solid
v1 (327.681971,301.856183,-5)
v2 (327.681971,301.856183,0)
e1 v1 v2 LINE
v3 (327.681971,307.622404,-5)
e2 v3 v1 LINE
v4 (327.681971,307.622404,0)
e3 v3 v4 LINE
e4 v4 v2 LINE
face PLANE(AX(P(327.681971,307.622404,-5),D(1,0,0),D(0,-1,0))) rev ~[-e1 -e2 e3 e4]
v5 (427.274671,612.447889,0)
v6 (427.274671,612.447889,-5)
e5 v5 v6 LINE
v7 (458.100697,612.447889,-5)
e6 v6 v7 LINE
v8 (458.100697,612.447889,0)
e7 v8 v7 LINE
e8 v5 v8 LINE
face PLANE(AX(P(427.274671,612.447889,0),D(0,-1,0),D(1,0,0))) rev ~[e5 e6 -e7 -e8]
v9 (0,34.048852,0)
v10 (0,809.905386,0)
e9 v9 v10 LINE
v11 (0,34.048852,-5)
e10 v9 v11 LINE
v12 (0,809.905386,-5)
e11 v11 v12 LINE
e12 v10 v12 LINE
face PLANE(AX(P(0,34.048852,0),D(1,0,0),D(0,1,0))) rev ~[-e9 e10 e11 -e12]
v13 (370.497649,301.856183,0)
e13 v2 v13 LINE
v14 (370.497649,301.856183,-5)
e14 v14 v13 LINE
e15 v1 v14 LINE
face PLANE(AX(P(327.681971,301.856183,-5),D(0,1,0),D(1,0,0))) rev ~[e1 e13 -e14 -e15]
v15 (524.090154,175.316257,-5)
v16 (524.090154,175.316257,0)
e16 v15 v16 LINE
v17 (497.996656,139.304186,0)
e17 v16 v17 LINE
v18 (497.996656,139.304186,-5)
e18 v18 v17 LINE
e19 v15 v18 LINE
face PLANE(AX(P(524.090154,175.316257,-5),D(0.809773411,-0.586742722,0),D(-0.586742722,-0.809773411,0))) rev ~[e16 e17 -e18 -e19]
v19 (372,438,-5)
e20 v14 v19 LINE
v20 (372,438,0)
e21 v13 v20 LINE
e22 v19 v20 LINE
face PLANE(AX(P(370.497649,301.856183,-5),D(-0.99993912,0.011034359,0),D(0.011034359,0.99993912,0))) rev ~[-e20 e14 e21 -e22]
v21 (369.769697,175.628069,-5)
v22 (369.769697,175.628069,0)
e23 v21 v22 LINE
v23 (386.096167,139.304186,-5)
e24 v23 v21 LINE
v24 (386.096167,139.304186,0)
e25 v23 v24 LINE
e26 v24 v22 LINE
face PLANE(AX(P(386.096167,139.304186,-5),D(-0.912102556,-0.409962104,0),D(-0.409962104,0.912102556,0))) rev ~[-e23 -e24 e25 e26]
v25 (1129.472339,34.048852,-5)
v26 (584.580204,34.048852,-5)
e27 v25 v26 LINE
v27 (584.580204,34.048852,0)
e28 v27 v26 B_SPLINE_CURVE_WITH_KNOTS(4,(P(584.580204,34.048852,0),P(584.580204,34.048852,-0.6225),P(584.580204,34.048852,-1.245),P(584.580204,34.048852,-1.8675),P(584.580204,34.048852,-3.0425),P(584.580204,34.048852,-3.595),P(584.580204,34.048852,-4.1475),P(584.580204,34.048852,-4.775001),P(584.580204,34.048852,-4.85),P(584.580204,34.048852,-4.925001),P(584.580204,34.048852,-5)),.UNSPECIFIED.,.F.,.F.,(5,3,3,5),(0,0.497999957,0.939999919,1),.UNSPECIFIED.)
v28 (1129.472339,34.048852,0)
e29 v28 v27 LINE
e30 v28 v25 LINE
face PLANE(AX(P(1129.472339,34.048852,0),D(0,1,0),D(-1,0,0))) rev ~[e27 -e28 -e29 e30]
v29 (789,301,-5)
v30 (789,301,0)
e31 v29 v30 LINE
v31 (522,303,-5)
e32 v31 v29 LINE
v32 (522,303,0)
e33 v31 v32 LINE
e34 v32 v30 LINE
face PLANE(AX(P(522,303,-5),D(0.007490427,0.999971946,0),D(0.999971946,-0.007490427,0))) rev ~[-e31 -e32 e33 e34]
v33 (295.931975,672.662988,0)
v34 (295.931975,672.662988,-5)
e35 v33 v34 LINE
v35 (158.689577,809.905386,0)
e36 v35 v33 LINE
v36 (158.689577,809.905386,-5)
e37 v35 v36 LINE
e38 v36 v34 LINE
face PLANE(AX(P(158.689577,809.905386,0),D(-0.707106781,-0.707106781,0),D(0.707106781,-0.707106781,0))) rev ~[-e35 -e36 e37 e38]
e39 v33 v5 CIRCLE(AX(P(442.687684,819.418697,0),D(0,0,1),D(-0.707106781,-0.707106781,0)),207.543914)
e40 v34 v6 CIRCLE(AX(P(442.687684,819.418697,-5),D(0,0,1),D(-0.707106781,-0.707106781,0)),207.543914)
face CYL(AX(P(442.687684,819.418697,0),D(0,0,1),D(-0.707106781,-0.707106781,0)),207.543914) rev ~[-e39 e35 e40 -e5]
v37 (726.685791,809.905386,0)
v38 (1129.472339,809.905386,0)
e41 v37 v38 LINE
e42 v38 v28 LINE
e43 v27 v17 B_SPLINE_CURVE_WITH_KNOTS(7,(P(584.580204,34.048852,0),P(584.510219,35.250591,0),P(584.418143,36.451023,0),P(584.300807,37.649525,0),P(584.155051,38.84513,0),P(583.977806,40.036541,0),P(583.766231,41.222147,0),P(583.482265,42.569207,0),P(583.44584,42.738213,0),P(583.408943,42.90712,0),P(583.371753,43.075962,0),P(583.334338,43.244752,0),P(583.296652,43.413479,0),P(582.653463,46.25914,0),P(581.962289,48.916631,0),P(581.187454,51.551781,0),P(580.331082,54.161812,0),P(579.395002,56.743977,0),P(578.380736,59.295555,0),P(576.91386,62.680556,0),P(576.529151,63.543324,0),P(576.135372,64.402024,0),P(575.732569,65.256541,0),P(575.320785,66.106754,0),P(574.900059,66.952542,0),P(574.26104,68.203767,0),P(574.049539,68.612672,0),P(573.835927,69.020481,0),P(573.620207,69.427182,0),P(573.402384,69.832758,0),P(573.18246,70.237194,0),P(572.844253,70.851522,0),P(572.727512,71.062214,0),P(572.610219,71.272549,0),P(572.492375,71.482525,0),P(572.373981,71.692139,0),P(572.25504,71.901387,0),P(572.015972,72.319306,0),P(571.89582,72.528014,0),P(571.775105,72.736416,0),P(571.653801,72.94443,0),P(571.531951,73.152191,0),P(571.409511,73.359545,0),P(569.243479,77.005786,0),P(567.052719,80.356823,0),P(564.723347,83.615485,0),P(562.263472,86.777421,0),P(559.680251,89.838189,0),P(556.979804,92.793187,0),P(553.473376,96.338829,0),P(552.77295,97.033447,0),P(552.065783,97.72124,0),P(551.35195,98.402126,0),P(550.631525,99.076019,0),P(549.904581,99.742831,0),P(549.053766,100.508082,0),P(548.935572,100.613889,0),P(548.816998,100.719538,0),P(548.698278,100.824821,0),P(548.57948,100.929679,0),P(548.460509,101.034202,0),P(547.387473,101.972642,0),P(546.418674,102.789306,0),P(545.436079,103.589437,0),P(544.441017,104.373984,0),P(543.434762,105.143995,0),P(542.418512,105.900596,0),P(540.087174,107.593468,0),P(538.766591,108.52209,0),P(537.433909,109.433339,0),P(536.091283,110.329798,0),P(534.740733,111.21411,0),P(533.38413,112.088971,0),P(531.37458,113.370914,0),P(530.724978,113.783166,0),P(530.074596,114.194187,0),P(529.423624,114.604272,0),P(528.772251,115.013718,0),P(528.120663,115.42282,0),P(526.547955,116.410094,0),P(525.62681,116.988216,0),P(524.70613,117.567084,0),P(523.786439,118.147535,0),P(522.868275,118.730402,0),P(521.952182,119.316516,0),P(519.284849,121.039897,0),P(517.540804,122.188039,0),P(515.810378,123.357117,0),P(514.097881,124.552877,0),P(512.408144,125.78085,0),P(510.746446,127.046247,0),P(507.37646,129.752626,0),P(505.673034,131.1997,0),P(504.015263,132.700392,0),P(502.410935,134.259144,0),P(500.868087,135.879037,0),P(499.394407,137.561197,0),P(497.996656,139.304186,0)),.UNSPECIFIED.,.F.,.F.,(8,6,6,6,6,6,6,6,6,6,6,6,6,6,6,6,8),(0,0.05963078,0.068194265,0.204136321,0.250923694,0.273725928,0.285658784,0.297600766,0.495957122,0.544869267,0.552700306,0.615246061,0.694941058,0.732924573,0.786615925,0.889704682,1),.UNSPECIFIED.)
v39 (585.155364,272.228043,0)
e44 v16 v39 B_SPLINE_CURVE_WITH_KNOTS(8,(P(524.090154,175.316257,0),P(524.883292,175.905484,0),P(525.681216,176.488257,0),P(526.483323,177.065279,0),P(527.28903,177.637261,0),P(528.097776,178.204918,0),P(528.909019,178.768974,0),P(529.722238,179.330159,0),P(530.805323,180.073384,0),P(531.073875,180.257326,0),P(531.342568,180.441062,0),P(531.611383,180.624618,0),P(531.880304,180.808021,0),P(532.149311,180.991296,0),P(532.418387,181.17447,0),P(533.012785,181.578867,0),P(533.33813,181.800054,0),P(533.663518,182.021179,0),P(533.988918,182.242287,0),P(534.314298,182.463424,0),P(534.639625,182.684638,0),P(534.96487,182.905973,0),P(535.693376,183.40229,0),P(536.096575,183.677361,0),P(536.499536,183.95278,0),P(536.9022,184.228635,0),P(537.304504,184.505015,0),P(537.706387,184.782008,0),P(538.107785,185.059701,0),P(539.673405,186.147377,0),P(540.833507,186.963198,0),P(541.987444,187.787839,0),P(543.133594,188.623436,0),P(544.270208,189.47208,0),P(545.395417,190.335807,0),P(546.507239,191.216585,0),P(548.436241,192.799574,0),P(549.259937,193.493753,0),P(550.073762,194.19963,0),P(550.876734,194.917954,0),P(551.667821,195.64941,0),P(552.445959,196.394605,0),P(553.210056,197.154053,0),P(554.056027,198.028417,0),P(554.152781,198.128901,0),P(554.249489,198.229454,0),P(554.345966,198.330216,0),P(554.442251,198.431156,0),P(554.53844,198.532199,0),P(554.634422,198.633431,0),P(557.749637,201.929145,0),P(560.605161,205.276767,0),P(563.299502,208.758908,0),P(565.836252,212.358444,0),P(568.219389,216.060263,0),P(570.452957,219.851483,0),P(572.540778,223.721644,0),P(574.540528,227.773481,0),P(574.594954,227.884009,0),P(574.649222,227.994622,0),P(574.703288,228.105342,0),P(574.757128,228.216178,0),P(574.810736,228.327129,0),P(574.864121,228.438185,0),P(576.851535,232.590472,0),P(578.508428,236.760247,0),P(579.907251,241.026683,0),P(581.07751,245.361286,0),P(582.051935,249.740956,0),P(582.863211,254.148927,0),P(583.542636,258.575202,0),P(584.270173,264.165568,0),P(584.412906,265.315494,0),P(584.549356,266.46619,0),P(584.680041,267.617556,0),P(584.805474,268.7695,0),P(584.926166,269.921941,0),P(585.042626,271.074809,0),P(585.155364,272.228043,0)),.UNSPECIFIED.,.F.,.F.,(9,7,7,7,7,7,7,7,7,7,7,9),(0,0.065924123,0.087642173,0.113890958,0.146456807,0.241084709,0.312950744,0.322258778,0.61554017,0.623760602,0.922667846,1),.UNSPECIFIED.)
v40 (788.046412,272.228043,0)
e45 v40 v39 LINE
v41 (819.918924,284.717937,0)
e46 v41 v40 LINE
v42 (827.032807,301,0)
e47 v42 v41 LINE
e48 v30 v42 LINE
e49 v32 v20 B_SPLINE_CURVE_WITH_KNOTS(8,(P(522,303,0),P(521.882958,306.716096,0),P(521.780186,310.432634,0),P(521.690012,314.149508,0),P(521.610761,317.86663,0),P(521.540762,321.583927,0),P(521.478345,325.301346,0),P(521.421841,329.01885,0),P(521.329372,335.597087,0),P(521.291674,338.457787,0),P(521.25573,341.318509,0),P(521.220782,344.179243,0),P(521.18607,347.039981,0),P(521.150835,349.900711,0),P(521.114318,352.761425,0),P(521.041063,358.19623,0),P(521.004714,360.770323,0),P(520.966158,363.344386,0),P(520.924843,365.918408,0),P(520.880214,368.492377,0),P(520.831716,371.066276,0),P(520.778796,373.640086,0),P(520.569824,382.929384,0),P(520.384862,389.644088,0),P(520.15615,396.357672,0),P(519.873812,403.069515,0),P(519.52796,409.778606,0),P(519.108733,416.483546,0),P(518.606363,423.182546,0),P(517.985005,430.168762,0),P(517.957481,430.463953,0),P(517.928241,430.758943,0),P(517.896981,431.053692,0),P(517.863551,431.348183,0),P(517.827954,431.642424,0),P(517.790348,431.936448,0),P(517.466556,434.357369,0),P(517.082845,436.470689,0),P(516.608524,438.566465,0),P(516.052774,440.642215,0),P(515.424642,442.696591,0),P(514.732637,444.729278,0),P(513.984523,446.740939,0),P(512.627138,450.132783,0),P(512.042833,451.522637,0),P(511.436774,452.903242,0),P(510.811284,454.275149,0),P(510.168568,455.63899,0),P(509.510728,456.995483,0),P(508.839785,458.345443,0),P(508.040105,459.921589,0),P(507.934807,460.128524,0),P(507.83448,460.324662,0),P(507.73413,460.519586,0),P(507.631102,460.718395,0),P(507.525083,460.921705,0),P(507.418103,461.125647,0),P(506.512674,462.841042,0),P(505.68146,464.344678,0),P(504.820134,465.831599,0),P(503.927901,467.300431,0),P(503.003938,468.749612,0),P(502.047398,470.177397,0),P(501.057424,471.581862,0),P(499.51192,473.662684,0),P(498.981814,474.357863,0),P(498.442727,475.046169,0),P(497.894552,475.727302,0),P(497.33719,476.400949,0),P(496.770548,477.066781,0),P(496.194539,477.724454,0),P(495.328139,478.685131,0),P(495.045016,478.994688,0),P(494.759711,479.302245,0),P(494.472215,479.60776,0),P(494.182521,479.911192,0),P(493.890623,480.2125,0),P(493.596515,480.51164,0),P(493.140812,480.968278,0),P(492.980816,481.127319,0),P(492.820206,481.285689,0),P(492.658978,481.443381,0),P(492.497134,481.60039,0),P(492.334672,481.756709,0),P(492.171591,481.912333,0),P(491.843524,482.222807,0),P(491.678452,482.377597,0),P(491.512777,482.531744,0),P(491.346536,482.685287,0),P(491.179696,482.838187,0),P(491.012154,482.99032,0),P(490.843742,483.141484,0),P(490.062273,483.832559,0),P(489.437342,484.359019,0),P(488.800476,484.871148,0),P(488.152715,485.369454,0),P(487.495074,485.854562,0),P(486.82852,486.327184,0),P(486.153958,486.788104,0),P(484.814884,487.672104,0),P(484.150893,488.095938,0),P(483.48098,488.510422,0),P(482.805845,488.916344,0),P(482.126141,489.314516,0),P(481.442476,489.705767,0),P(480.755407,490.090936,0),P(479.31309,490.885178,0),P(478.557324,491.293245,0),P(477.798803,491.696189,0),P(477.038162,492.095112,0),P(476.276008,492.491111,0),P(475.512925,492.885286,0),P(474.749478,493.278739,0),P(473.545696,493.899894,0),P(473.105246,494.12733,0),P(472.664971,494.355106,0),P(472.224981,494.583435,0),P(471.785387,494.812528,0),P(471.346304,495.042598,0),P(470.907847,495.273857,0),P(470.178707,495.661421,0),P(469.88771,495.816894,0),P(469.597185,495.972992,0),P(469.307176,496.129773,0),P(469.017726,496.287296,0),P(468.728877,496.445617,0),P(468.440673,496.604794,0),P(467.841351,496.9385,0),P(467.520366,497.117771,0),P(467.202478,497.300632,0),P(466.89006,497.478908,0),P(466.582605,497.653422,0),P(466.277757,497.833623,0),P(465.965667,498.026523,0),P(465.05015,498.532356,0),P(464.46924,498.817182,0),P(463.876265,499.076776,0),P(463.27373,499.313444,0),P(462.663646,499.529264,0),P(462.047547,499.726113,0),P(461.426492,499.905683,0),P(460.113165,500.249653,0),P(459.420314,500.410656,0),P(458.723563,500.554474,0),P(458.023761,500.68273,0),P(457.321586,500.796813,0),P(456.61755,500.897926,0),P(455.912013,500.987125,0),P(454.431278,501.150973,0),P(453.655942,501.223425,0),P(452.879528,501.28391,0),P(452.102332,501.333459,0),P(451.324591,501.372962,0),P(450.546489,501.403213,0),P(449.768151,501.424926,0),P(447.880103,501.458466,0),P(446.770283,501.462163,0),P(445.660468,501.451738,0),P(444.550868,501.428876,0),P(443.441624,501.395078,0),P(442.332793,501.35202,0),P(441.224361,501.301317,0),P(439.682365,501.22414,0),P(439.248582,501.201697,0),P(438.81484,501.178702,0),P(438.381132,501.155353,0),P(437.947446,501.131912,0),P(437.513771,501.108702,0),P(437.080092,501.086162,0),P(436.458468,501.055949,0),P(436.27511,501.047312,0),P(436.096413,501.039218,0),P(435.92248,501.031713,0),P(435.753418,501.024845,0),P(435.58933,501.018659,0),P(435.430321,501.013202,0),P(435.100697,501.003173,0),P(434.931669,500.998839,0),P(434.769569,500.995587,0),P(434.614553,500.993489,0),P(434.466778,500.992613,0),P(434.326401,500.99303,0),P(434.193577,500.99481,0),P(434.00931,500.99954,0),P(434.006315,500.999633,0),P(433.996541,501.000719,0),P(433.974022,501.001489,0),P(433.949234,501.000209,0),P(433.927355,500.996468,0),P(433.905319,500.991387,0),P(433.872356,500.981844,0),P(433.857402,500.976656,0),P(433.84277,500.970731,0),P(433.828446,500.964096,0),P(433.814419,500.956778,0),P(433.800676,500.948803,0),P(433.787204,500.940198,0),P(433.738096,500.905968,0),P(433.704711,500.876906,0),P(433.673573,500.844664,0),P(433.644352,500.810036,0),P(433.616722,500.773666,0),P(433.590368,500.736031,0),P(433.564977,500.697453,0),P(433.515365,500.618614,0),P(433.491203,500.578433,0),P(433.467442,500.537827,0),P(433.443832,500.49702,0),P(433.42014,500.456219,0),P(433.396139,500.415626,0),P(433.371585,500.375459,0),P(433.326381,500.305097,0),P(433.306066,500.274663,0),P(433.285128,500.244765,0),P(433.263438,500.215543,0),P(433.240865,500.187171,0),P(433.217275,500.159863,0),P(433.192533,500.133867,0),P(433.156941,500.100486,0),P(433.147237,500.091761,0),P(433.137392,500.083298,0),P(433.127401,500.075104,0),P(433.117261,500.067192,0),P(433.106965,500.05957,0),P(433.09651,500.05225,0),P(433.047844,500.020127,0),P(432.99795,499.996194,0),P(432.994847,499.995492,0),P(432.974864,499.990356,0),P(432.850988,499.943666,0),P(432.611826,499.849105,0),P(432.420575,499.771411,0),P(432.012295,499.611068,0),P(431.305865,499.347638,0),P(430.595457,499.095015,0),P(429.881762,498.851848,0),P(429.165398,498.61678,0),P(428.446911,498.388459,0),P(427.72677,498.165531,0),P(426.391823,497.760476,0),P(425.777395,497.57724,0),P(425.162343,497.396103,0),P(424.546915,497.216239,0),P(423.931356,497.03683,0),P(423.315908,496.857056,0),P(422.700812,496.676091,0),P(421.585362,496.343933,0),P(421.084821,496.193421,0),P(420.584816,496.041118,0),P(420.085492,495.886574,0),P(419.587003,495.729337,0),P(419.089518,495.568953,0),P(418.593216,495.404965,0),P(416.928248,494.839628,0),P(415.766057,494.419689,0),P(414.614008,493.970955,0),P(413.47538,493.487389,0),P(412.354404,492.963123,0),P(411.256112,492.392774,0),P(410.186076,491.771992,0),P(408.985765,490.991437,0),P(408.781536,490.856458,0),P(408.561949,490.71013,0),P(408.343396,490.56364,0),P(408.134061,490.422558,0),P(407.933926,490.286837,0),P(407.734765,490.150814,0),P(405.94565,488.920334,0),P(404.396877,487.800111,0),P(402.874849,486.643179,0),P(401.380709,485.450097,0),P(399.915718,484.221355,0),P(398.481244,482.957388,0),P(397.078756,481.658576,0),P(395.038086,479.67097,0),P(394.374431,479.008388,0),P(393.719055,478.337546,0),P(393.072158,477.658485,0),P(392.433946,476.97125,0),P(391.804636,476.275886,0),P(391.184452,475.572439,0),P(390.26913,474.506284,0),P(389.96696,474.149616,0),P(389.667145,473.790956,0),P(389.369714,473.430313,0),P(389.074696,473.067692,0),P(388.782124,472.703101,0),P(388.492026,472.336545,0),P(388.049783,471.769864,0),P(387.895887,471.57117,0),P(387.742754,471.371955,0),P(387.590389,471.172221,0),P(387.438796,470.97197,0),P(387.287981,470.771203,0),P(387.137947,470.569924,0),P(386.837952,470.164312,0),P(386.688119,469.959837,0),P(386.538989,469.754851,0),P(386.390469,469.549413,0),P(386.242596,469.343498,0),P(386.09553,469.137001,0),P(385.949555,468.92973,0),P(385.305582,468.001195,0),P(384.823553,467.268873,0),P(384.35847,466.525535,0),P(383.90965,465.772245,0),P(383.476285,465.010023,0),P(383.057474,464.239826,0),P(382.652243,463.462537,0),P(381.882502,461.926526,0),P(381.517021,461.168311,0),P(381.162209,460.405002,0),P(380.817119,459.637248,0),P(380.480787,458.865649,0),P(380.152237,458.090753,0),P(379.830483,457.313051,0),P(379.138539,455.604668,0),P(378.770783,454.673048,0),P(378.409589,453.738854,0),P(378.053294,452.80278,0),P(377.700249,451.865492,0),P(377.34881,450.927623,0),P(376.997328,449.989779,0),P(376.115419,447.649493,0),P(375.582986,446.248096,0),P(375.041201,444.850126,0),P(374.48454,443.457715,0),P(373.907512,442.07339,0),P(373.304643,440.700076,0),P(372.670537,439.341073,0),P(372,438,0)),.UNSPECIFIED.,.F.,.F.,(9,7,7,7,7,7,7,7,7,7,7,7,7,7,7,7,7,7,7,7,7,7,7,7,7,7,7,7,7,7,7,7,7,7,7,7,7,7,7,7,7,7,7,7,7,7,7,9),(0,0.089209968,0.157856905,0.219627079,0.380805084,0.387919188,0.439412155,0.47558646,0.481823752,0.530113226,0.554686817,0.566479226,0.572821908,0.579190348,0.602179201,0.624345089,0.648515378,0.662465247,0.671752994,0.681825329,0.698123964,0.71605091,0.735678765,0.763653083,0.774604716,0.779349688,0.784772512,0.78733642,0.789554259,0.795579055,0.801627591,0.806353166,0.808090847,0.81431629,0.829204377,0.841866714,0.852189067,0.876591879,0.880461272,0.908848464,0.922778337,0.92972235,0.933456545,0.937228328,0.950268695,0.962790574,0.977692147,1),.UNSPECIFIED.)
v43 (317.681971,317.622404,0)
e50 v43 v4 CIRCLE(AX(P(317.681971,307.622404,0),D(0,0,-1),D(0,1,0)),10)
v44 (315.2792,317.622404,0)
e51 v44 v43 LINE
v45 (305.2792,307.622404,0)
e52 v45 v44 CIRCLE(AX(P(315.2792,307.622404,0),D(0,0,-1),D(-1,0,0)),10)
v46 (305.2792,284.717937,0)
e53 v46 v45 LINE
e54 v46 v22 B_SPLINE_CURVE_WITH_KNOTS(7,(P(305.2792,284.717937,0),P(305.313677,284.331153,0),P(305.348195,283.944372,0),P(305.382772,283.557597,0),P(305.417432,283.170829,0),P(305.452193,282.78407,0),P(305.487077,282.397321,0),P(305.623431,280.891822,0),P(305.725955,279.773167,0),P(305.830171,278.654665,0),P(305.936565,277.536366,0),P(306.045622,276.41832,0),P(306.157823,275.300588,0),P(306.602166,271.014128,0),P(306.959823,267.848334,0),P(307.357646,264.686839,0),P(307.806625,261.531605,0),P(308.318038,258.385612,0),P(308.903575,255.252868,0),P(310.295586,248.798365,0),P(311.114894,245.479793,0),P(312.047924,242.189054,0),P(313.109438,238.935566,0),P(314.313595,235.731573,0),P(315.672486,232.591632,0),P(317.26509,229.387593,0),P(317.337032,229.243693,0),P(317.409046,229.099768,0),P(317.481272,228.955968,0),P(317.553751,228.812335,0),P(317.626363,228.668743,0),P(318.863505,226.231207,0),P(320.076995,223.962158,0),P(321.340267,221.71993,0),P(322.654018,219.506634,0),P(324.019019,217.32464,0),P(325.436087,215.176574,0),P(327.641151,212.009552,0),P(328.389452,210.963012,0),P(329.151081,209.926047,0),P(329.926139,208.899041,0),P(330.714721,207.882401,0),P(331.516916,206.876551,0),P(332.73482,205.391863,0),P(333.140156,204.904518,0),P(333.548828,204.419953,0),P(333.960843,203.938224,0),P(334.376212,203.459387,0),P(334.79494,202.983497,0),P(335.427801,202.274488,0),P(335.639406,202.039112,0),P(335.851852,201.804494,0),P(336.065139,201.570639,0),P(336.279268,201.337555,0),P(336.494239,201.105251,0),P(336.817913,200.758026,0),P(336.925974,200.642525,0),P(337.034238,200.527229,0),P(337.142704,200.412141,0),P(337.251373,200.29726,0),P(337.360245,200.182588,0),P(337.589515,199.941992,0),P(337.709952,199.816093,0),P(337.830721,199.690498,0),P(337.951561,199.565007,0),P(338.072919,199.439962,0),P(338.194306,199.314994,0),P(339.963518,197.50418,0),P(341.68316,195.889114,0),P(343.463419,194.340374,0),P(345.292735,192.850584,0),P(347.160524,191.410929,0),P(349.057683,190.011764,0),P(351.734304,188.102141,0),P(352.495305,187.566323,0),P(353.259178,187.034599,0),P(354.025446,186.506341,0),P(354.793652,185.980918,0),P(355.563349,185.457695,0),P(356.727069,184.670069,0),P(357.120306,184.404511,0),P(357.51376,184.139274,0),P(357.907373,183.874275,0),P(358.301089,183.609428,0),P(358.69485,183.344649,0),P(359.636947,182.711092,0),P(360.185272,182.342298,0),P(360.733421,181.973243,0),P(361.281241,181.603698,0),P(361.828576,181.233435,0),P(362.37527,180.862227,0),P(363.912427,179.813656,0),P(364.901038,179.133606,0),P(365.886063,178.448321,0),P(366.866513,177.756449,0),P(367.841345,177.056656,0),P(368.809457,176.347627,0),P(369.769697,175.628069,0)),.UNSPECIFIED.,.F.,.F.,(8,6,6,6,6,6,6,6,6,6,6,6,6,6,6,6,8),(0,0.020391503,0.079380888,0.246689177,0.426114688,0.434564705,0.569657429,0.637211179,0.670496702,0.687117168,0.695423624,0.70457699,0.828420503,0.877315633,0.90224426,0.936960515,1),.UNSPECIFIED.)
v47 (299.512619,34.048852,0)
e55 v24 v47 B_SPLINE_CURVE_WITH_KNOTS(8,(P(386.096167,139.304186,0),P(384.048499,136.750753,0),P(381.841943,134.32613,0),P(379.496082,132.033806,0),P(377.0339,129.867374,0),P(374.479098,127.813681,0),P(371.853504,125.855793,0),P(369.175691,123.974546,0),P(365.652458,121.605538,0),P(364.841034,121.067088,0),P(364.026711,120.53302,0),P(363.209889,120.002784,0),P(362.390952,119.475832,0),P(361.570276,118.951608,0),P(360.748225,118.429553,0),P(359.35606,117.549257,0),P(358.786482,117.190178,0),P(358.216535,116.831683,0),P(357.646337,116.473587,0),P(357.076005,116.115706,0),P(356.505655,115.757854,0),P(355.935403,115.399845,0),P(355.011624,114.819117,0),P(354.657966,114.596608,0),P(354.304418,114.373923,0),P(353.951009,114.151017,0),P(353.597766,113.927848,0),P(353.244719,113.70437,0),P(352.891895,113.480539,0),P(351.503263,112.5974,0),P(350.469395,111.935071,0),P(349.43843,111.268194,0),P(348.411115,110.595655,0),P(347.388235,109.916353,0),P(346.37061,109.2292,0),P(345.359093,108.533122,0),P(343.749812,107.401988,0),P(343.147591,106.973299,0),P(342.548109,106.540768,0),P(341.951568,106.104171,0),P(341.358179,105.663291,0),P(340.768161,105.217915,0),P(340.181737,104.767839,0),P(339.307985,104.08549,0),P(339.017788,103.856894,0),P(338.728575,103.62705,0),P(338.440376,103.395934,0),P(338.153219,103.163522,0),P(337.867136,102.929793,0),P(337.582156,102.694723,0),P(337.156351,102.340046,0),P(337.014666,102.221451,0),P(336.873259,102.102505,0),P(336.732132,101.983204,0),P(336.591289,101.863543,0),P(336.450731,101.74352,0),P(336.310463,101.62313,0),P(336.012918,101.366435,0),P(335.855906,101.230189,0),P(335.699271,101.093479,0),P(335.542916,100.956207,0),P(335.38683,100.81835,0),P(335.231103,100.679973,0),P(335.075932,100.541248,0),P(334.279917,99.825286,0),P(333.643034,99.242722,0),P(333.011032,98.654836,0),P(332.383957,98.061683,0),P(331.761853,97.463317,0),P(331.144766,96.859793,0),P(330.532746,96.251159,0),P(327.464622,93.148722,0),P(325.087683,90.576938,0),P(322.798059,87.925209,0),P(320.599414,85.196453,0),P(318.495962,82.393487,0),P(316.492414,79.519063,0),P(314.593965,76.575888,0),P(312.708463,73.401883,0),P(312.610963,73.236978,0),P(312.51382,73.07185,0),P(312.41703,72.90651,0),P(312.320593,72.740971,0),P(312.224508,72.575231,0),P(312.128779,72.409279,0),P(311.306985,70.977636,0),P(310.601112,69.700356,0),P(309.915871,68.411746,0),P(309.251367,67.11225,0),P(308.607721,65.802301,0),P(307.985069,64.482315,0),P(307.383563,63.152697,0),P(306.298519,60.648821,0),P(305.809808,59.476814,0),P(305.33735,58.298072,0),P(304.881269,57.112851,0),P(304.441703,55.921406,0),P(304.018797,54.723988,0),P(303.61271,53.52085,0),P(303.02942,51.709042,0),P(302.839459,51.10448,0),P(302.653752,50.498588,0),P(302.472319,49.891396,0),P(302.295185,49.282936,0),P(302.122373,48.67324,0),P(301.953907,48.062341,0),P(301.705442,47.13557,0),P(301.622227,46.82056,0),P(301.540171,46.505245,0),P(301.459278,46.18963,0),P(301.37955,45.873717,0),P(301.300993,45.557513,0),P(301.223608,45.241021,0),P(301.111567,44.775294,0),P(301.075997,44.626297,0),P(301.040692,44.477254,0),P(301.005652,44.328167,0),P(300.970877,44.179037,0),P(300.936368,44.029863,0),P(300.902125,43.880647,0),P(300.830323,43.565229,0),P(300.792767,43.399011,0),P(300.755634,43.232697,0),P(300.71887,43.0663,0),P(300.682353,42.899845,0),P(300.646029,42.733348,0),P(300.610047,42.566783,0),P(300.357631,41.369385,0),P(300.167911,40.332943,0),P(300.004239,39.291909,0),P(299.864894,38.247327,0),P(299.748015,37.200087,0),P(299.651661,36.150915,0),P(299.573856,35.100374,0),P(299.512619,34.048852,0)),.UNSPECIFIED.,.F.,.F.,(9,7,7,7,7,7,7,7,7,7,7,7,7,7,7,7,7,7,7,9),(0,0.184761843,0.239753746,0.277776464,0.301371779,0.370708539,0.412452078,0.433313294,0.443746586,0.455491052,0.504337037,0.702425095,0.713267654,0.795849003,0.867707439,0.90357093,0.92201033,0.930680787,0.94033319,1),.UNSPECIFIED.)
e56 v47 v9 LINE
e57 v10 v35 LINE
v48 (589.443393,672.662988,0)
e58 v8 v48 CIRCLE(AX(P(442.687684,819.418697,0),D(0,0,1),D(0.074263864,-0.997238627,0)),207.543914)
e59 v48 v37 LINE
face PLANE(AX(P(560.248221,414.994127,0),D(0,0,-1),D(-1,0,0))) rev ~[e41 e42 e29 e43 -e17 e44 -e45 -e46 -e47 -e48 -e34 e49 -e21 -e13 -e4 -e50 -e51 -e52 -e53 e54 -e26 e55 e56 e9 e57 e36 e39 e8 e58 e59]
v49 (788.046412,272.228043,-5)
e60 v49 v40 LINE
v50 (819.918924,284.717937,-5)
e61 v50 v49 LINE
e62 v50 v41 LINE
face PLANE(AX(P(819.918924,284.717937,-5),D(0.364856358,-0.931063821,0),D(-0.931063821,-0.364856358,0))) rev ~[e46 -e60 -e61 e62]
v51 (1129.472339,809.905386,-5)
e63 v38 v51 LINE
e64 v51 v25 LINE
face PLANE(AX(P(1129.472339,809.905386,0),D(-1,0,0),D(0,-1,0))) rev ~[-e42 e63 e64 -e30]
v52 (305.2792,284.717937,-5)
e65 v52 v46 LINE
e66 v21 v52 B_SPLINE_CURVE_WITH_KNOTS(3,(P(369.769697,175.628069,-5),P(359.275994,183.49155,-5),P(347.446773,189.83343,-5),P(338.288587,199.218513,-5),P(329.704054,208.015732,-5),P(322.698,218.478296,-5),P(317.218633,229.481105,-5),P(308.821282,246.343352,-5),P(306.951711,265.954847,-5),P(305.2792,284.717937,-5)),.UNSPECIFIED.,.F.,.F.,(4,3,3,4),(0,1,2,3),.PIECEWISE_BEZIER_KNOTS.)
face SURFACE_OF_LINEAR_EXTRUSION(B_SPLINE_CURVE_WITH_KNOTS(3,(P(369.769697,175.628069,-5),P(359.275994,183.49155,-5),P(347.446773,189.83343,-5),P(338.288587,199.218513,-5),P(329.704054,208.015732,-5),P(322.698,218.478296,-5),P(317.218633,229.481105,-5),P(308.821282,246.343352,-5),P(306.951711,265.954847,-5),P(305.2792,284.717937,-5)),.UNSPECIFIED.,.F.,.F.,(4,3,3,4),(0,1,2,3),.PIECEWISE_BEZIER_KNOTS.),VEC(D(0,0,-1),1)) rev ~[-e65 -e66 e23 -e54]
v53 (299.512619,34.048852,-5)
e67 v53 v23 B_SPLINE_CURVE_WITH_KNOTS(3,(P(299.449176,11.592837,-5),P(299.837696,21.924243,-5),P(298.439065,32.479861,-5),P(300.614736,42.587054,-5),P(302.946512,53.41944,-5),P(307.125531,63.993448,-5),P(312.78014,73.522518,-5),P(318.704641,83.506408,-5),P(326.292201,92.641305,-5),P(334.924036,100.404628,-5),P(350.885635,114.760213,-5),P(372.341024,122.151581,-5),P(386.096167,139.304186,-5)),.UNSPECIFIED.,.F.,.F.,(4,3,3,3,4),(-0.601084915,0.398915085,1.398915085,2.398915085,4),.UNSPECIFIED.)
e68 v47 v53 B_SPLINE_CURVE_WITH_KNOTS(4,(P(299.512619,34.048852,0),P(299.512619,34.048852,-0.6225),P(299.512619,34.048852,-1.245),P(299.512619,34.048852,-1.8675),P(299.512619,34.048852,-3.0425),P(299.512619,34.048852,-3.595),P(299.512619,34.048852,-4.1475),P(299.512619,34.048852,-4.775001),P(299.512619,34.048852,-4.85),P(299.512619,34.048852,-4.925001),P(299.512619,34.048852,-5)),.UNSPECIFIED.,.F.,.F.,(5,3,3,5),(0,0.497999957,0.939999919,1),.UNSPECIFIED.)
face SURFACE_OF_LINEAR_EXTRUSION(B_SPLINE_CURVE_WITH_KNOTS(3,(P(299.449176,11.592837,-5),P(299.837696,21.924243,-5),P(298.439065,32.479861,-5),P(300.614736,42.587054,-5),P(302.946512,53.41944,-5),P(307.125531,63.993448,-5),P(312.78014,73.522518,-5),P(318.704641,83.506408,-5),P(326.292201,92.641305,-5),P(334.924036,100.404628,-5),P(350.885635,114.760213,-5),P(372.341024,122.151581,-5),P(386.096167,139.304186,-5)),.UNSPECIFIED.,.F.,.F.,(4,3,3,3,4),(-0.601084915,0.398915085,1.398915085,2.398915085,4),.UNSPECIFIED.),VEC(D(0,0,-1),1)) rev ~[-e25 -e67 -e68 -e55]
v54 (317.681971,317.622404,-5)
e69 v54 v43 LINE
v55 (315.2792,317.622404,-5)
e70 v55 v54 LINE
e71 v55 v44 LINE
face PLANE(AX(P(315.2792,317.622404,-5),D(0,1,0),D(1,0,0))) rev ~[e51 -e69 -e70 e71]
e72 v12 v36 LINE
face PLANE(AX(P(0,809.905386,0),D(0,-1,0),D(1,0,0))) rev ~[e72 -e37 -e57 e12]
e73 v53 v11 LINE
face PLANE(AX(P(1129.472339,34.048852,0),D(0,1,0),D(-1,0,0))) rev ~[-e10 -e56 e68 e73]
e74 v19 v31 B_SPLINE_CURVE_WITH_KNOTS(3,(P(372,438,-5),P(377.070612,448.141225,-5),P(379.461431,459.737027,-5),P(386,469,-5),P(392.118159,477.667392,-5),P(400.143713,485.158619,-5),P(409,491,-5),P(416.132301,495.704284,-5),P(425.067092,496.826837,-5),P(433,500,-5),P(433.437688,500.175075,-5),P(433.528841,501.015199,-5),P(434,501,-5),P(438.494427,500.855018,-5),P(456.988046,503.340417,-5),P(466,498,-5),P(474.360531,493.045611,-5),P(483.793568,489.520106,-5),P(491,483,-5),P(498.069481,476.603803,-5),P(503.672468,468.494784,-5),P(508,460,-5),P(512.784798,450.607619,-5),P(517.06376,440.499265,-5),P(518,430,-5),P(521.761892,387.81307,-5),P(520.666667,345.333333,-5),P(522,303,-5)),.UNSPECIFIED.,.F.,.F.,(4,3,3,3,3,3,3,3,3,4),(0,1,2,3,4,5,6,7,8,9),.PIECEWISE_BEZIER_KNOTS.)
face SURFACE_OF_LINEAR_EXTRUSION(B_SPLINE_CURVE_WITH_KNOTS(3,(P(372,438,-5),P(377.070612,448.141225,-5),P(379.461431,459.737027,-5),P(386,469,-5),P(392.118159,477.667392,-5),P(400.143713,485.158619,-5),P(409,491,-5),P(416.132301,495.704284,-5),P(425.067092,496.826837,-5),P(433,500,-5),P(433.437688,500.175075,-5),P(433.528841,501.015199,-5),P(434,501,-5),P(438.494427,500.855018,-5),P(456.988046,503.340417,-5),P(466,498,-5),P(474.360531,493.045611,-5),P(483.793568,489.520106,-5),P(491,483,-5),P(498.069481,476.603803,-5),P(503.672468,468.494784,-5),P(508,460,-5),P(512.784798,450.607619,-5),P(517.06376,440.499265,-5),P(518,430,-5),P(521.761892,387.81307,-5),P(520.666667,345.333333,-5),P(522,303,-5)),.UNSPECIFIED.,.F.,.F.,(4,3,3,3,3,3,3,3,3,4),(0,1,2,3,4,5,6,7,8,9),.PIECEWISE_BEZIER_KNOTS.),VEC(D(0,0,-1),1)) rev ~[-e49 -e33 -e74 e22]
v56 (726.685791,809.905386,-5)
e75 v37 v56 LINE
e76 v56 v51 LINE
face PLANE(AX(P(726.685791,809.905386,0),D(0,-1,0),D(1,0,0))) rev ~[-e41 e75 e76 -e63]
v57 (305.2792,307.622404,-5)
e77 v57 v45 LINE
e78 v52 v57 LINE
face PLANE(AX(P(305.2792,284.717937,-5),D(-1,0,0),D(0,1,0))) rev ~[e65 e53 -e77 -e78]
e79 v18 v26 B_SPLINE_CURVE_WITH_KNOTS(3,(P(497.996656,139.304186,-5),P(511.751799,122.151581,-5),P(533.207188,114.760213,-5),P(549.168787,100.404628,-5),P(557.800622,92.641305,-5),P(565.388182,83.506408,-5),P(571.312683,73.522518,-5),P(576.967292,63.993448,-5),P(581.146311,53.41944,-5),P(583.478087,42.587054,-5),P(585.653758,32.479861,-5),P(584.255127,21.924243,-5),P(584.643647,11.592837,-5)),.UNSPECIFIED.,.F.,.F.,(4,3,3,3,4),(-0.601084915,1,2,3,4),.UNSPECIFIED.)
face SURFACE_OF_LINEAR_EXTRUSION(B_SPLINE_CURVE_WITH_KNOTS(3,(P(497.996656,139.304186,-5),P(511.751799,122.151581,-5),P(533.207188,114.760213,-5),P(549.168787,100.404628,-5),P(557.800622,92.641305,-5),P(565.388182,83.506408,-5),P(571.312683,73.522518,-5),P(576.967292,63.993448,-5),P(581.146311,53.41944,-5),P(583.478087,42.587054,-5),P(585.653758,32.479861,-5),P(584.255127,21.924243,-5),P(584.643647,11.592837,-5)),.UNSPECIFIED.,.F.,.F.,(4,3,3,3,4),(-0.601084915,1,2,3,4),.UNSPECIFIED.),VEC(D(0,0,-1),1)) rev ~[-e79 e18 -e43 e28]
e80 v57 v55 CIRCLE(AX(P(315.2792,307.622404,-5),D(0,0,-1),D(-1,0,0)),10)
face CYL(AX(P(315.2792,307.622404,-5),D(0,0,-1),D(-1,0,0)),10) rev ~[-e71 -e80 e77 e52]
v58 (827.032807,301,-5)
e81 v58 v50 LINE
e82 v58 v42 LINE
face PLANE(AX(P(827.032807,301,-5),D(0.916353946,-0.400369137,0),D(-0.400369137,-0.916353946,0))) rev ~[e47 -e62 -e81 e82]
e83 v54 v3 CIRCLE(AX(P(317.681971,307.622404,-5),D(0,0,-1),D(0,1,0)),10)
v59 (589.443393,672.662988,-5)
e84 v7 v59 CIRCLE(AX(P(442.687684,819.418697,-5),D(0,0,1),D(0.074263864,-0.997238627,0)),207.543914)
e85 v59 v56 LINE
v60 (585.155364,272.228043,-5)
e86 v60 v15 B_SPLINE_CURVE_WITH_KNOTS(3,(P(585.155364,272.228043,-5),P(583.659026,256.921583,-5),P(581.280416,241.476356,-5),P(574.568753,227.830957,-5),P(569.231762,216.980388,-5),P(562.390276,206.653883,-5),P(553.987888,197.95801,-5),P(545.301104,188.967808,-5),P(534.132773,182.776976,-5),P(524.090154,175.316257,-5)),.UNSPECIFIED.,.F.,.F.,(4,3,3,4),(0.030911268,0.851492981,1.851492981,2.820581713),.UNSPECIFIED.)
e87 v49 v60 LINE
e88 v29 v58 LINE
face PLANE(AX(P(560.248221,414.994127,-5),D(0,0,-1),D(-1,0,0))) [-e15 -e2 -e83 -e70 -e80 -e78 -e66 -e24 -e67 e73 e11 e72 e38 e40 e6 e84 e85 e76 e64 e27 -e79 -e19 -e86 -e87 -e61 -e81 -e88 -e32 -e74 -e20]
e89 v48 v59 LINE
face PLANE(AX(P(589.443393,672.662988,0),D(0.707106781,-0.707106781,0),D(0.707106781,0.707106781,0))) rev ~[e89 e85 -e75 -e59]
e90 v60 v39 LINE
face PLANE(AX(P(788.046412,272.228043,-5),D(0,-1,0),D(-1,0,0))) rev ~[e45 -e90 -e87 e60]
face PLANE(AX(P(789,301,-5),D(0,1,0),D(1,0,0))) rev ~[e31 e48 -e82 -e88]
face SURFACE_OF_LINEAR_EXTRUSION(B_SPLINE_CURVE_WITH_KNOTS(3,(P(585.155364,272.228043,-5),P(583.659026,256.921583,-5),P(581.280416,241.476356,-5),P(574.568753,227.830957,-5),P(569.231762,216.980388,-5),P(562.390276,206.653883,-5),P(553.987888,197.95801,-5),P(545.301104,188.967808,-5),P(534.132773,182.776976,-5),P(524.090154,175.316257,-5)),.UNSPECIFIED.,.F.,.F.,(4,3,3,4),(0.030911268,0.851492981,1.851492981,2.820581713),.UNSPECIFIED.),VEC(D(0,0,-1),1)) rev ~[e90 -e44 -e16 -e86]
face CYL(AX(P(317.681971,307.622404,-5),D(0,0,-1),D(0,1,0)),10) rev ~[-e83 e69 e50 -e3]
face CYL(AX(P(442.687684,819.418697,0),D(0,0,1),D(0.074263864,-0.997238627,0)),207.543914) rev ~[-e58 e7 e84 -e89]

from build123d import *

# Parameters (mm, degrees)
BOSS_EXTRUDE1_DEPTH = 5
BOSS_EXTRUDE2_DEPTH = 5
CUT_EXTRUDE1_DEPTH  = 10


with BuildPart() as part:
    # Sketch1 → Boss-Extrude1 (new body)
    with BuildSketch(Plane.XY):
        with BuildLine():
            Line((370.497648791, 301.856182559), (372, 438))
            add(Edge.make_bspline(
                [(372, 438), (377.070612499, 448.141224997), (379.461430827, 459.737027004), (386, 469), (392.118159092, 477.667392046), (400.143712739, 485.158619041), (409, 491), (416.132300897, 495.704283571), (425.067091676, 496.82683667), (433, 500), (433.43768811, 500.175075244), (433.528840556, 501.015198692), (434, 501), (438.494427227, 500.855018477), (456.988046274, 503.340417023), (466, 498), (474.360530914, 493.04561131), (483.793567573, 489.520105529), (491, 483), (498.069480611, 476.603803257), (503.672468408, 468.494784236), (508, 460), (512.78479786, 450.607619016), (517.063759809, 440.499264994), (518, 430), (521.761891843, 387.813070049), (520.666666667, 345.333333333), (522, 303)],
                knots=[0, 0, 0, 0, 1, 1, 1, 2, 2, 2, 3, 3, 3, 4, 4, 4, 5, 5, 5, 6, 6, 6, 7, 7, 7, 8, 8, 8, 9, 9, 9, 9], degree=3))
            Line((522, 303), (789, 301))
            Line((789, 301), (827.03280719, 301))
            Line((827.03280719, 301), (819.918923577, 284.71793746))
            Line((819.918923577, 284.71793746), (788.046411506, 272.228043202))
            Line((788.046411506, 272.228043202), (585.155364104, 272.228043202))
            add(Edge.make_bspline(
                [(524.090153556, 175.31625705), (534.132772767, 182.776976105), (545.301104031, 188.967808356), (553.987887853, 197.958010428), (562.390275972, 206.653883218), (569.231762232, 216.980387762), (574.568753191, 227.830957202), (581.280416418, 241.476355602), (583.659025907, 256.921583072), (585.155364104, 272.228043202)],
                knots=[0.030911268, 0.030911268, 0.030911268, 0.030911268, 1, 1, 1, 2, 2, 2, 2.820581713, 2.820581713, 2.820581713, 2.820581713], degree=3))
            Line((524.090153556, 175.31625705), (497.996656044, 139.304186189))
            add(Edge.make_bspline(
                [(497.996656044, 139.304186189), (511.751798598, 122.15158093), (533.207187644, 114.760213321), (549.168786654, 100.404628372), (557.800622493, 92.641305125), (565.388182046, 83.506408445), (571.312683203, 73.52251823), (576.967291515, 63.993447834), (581.146310668, 53.41944041), (583.478086888, 42.587053902), (585.653758103, 32.479861233), (584.25512728, 21.924242773), (584.643647475, 11.592837208)],
                knots=[-0.601084915, -0.601084915, -0.601084915, -0.601084915, 1, 1, 1, 2, 2, 2, 3, 3, 3, 4, 4, 4, 4], degree=3))
            Line((584.643647475, 11.592837208), (537.046411506, 5.228043202))
            Line((537.046411506, 5.228043202), (347.046411506, 5.228043202))
            Line((347.046411506, 5.228043202), (299.449175536, 11.592837208))
            add(Edge.make_bspline(
                [(386.096166967, 139.304186189), (372.341024413, 122.15158093), (350.885635367, 114.760213321), (334.924036357, 100.404628372), (326.292200518, 92.641305125), (318.704640966, 83.506408445), (312.780139808, 73.52251823), (307.125531496, 63.993447834), (302.946512343, 53.41944041), (300.614736124, 42.587053902), (298.439064908, 32.479861233), (299.837695732, 21.924242773), (299.449175536, 11.592837208)],
                knots=[-0.601084915, -0.601084915, -0.601084915, -0.601084915, 1, 1, 1, 2, 2, 2, 3, 3, 3, 4, 4, 4, 4], degree=3))
            Line((386.096166967, 139.304186189), (369.769696723, 175.6280686))
            add(Edge.make_bspline(
                [(369.769696723, 175.6280686), (359.275993543, 183.491550102), (347.446772756, 189.833430008), (338.288587183, 199.218513107), (329.704053525, 208.015731849), (322.698000121, 218.47829637), (317.218632515, 229.481105391), (308.82128178, 246.343351742), (306.951710973, 265.954847126), (305.27920015, 284.71793746)],
                knots=[0, 0, 0, 0, 1, 1, 1, 2, 2, 2, 3, 3, 3, 3], degree=3))
            Line((305.27920015, 284.71793746), (305.27920015, 294.71793746))
            Line((305.27920015, 294.71793746), (305.27920015, 307.622403638))
            ThreePointArc((305.27920015, 307.622403638), (308.208132338, 314.69347145), (315.27920015, 317.622403638))
            Line((315.27920015, 317.622403638), (317.681970552, 317.622403638))
            ThreePointArc((317.681970552, 317.622403638), (324.753038364, 314.69347145), (327.681970552, 307.622403638))
            Line((327.681970552, 307.622403638), (327.681970552, 301.856182559))
            Line((327.681970552, 301.856182559), (370.497648791, 301.856182559))
        make_face()
        with BuildLine():
            ThreePointArc((406.611213578, 432.933993488), (444.240513417, 427.999983531), (481.869813256, 432.933993488))
            ThreePointArc((481.869813256, 432.933993488), (487.373843498, 425.711519852), (481.869813256, 418.489046215))
            ThreePointArc((481.869813256, 418.489046215), (444.240513417, 413.999983531), (406.611213578, 418.489046215))
            ThreePointArc((406.611213578, 418.489046215), (401.107183337, 425.711519852), (406.611213578, 432.933993488))
        make_face(mode=Mode.SUBTRACT)
        with BuildLine():
            ThreePointArc((406.611213578, 398), (444.240513417, 393.065990043), (481.869813256, 398))
            ThreePointArc((481.869813256, 398), (487.373843498, 390.777526364), (481.869813256, 383.555052727))
            ThreePointArc((481.869813256, 383.555052727), (444.240513417, 379.065990043), (406.611213578, 383.555052727))
            ThreePointArc((406.611213578, 383.555052727), (401.107183337, 390.777526364), (406.611213578, 398))
        make_face(mode=Mode.SUBTRACT)
        with BuildLine():
            ThreePointArc((406.611213578, 363.066006512), (444.240513417, 358.131996555), (481.869813256, 363.066006512))
            ThreePointArc((481.869813256, 363.066006512), (487.373843498, 355.843532875), (481.869813256, 348.621059239))
            ThreePointArc((481.869813256, 348.621059239), (444.240513417, 344.131996555), (406.611213578, 348.621059239))
            ThreePointArc((406.611213578, 348.621059239), (401.107183337, 355.843532875), (406.611213578, 363.066006512))
        make_face(mode=Mode.SUBTRACT)
    extrude(amount=-BOSS_EXTRUDE1_DEPTH)

    # SurfaceCut1: cut with a surface, the side behind it stays


with BuildPart() as body_2:
    # Sketch4 → Boss-Extrude2 (new body)
    with BuildSketch(Plane.XY):
        with BuildLine():
            Line((0, 809.905385878), (158.689577265, 809.905385878))
            Line((158.689577265, 809.905385878), (295.931975359, 672.662987784))
            ThreePointArc((295.931975359, 672.662987784), (356.194111544, 630.756728958), (427.274671247, 612.447889054))
            Line((427.274671247, 612.447889054), (458.100697152, 612.447889054))
            ThreePointArc((458.100697152, 612.447889054), (529.181256855, 630.756728958), (589.44339304, 672.662987784))
            Line((589.44339304, 672.662987784), (726.685791134, 809.905385878))
            Line((726.685791134, 809.905385878), (1129.472339378, 809.905385878))
            Line((1129.472339378, 809.905385878), (1129.472339378, 34.048851959))
            Line((1129.472339378, 34.048851959), (0, 34.048851959))
            Line((0, 34.048851959), (0, 809.905385878))
        make_face()
    extrude(amount=-BOSS_EXTRUDE2_DEPTH)


with BuildPart() as part_1:
    add(part.part)
    # Surface-Offset1: a surface, a copy of 1 face of the part
    surface_offset1_1 = body_2.part.faces().sort_by_distance((564.736169689, 34.048851959, -2.5))[0]
    split(bisect_by=surface_offset1_1, keep=Keep.BOTTOM)


with BuildPart() as cut_extrude1_tool:
    # Sketch5 → Cut-Extrude1 (new body)
    with BuildSketch(Plane(origin=(0, 0, -5), x_dir=(-1, 0, 0), z_dir=(0, 0, -1))):
        with BuildLine():
            Line((-305.27920015, 294.71793746), (-305.27920015, 307.622403638))
            ThreePointArc((-305.27920015, 307.622403638), (-308.208132338, 314.69347145), (-315.27920015, 317.622403638))
            Line((-315.27920015, 317.622403638), (-317.681970552, 317.622403638))
            ThreePointArc((-317.681970552, 317.622403638), (-324.753038364, 314.69347145), (-327.681970552, 307.622403638))
            Line((-327.681970552, 307.622403638), (-327.681970552, 301.856182559))
            Line((-327.681970552, 301.856182559), (-370.497648791, 301.856182559))
            Line((-370.497648791, 301.856182559), (-372, 438))
            add(Edge.make_bspline(
                [(-372, 438), (-377.070612499, 448.141224997), (-379.461430827, 459.737027004), (-386, 469), (-392.118159092, 477.667392046), (-400.143712739, 485.158619041), (-409, 491), (-416.132300897, 495.704283571), (-425.067091676, 496.82683667), (-433, 500), (-433.43768811, 500.175075244), (-433.528840556, 501.015198692), (-434, 501), (-438.494427227, 500.855018477), (-456.988046274, 503.340417023), (-466, 498), (-474.360530914, 493.04561131), (-483.793567573, 489.520105529), (-491, 483), (-498.069480611, 476.603803257), (-503.672468408, 468.494784236), (-508, 460), (-512.78479786, 450.607619016), (-517.063759809, 440.499264994), (-518, 430), (-521.761891843, 387.813070049), (-520.666666667, 345.333333333), (-522, 303)],
                knots=[0, 0, 0, 0, 1, 1, 1, 2, 2, 2, 3, 3, 3, 4, 4, 4, 5, 5, 5, 6, 6, 6, 7, 7, 7, 8, 8, 8, 9, 9, 9, 9], degree=3))
            Line((-522, 303), (-789, 301))
            Line((-789, 301), (-827.03280719, 301))
            Line((-827.03280719, 301), (-819.918923577, 284.71793746))
            Line((-819.918923577, 284.71793746), (-788.046411506, 272.228043202))
            Line((-788.046411506, 272.228043202), (-585.155364104, 272.228043202))
            add(Edge.make_bspline(
                [(-585.155364104, 272.228043202), (-583.659025907, 256.921583072), (-581.280416418, 241.476355602), (-574.568753191, 227.830957202), (-569.231762232, 216.980387762), (-562.390275972, 206.653883218), (-553.987887853, 197.958010428), (-545.301104031, 188.967808356), (-534.132772767, 182.776976105), (-524.090153556, 175.31625705)],
                knots=[0.030911268, 0.030911268, 0.030911268, 0.030911268, 0.851492981, 0.851492981, 0.851492981, 1.851492981, 1.851492981, 1.851492981, 2.820581713, 2.820581713, 2.820581713, 2.820581713], degree=3))
            Line((-524.090153556, 175.31625705), (-497.996656044, 139.304186189))
            add(Edge.make_bspline(
                [(-497.996656044, 139.304186189), (-511.751798598, 122.15158093), (-533.207187644, 114.760213321), (-549.168786654, 100.404628372), (-557.800622493, 92.641305125), (-565.388182046, 83.506408445), (-571.312683203, 73.52251823), (-576.967291515, 63.993447834), (-581.146310668, 53.41944041), (-583.478086888, 42.587053902), (-585.653758103, 32.479861233), (-584.25512728, 21.924242773), (-584.643647475, 11.592837208)],
                knots=[-0.601084915, -0.601084915, -0.601084915, -0.601084915, 1, 1, 1, 2, 2, 2, 3, 3, 3, 4, 4, 4, 4], degree=3))
            Line((-584.643647475, 11.592837208), (-537.046411506, 5.228043202))
            Line((-537.046411506, 5.228043202), (-347.046411506, 5.228043202))
            Line((-347.046411506, 5.228043202), (-299.449175536, 11.592837208))
            add(Edge.make_bspline(
                [(-299.449175536, 11.592837208), (-299.837695732, 21.924242773), (-298.439064908, 32.479861233), (-300.614736124, 42.587053902), (-302.946512343, 53.41944041), (-307.125531496, 63.993447834), (-312.780139808, 73.52251823), (-318.704640966, 83.506408445), (-326.292200518, 92.641305125), (-334.924036357, 100.404628372), (-350.885635367, 114.760213321), (-372.341024413, 122.15158093), (-386.096166967, 139.304186189)],
                knots=[-0.601084915, -0.601084915, -0.601084915, -0.601084915, 0.398915085, 0.398915085, 0.398915085, 1.398915085, 1.398915085, 1.398915085, 2.398915085, 2.398915085, 2.398915085, 4, 4, 4, 4], degree=3))
            Line((-386.096166967, 139.304186189), (-369.769696723, 175.6280686))
            add(Edge.make_bspline(
                [(-369.769696723, 175.6280686), (-359.275993543, 183.491550102), (-347.446772756, 189.833430008), (-338.288587183, 199.218513107), (-329.704053525, 208.015731849), (-322.698000121, 218.47829637), (-317.218632515, 229.481105391), (-308.82128178, 246.343351742), (-306.951710973, 265.954847126), (-305.27920015, 284.71793746)],
                knots=[0, 0, 0, 0, 1, 1, 1, 2, 2, 2, 3, 3, 3, 3], degree=3))
            Line((-305.27920015, 284.71793746), (-305.27920015, 294.71793746))
        make_face()
    extrude(amount=-CUT_EXTRUDE1_DEPTH)


with BuildPart() as part_2:
    add(part_1.part)

    # Cut-Extrude1: cut by cut_extrude1_tool
    add(cut_extrude1_tool.part, mode=Mode.SUBTRACT)


with BuildPart() as body_2_1:
    add(body_2.part)

    # Cut-Extrude1: cut by cut_extrude1_tool
    add(cut_extrude1_tool.part, mode=Mode.SUBTRACT)


solid = body_2_1.part
